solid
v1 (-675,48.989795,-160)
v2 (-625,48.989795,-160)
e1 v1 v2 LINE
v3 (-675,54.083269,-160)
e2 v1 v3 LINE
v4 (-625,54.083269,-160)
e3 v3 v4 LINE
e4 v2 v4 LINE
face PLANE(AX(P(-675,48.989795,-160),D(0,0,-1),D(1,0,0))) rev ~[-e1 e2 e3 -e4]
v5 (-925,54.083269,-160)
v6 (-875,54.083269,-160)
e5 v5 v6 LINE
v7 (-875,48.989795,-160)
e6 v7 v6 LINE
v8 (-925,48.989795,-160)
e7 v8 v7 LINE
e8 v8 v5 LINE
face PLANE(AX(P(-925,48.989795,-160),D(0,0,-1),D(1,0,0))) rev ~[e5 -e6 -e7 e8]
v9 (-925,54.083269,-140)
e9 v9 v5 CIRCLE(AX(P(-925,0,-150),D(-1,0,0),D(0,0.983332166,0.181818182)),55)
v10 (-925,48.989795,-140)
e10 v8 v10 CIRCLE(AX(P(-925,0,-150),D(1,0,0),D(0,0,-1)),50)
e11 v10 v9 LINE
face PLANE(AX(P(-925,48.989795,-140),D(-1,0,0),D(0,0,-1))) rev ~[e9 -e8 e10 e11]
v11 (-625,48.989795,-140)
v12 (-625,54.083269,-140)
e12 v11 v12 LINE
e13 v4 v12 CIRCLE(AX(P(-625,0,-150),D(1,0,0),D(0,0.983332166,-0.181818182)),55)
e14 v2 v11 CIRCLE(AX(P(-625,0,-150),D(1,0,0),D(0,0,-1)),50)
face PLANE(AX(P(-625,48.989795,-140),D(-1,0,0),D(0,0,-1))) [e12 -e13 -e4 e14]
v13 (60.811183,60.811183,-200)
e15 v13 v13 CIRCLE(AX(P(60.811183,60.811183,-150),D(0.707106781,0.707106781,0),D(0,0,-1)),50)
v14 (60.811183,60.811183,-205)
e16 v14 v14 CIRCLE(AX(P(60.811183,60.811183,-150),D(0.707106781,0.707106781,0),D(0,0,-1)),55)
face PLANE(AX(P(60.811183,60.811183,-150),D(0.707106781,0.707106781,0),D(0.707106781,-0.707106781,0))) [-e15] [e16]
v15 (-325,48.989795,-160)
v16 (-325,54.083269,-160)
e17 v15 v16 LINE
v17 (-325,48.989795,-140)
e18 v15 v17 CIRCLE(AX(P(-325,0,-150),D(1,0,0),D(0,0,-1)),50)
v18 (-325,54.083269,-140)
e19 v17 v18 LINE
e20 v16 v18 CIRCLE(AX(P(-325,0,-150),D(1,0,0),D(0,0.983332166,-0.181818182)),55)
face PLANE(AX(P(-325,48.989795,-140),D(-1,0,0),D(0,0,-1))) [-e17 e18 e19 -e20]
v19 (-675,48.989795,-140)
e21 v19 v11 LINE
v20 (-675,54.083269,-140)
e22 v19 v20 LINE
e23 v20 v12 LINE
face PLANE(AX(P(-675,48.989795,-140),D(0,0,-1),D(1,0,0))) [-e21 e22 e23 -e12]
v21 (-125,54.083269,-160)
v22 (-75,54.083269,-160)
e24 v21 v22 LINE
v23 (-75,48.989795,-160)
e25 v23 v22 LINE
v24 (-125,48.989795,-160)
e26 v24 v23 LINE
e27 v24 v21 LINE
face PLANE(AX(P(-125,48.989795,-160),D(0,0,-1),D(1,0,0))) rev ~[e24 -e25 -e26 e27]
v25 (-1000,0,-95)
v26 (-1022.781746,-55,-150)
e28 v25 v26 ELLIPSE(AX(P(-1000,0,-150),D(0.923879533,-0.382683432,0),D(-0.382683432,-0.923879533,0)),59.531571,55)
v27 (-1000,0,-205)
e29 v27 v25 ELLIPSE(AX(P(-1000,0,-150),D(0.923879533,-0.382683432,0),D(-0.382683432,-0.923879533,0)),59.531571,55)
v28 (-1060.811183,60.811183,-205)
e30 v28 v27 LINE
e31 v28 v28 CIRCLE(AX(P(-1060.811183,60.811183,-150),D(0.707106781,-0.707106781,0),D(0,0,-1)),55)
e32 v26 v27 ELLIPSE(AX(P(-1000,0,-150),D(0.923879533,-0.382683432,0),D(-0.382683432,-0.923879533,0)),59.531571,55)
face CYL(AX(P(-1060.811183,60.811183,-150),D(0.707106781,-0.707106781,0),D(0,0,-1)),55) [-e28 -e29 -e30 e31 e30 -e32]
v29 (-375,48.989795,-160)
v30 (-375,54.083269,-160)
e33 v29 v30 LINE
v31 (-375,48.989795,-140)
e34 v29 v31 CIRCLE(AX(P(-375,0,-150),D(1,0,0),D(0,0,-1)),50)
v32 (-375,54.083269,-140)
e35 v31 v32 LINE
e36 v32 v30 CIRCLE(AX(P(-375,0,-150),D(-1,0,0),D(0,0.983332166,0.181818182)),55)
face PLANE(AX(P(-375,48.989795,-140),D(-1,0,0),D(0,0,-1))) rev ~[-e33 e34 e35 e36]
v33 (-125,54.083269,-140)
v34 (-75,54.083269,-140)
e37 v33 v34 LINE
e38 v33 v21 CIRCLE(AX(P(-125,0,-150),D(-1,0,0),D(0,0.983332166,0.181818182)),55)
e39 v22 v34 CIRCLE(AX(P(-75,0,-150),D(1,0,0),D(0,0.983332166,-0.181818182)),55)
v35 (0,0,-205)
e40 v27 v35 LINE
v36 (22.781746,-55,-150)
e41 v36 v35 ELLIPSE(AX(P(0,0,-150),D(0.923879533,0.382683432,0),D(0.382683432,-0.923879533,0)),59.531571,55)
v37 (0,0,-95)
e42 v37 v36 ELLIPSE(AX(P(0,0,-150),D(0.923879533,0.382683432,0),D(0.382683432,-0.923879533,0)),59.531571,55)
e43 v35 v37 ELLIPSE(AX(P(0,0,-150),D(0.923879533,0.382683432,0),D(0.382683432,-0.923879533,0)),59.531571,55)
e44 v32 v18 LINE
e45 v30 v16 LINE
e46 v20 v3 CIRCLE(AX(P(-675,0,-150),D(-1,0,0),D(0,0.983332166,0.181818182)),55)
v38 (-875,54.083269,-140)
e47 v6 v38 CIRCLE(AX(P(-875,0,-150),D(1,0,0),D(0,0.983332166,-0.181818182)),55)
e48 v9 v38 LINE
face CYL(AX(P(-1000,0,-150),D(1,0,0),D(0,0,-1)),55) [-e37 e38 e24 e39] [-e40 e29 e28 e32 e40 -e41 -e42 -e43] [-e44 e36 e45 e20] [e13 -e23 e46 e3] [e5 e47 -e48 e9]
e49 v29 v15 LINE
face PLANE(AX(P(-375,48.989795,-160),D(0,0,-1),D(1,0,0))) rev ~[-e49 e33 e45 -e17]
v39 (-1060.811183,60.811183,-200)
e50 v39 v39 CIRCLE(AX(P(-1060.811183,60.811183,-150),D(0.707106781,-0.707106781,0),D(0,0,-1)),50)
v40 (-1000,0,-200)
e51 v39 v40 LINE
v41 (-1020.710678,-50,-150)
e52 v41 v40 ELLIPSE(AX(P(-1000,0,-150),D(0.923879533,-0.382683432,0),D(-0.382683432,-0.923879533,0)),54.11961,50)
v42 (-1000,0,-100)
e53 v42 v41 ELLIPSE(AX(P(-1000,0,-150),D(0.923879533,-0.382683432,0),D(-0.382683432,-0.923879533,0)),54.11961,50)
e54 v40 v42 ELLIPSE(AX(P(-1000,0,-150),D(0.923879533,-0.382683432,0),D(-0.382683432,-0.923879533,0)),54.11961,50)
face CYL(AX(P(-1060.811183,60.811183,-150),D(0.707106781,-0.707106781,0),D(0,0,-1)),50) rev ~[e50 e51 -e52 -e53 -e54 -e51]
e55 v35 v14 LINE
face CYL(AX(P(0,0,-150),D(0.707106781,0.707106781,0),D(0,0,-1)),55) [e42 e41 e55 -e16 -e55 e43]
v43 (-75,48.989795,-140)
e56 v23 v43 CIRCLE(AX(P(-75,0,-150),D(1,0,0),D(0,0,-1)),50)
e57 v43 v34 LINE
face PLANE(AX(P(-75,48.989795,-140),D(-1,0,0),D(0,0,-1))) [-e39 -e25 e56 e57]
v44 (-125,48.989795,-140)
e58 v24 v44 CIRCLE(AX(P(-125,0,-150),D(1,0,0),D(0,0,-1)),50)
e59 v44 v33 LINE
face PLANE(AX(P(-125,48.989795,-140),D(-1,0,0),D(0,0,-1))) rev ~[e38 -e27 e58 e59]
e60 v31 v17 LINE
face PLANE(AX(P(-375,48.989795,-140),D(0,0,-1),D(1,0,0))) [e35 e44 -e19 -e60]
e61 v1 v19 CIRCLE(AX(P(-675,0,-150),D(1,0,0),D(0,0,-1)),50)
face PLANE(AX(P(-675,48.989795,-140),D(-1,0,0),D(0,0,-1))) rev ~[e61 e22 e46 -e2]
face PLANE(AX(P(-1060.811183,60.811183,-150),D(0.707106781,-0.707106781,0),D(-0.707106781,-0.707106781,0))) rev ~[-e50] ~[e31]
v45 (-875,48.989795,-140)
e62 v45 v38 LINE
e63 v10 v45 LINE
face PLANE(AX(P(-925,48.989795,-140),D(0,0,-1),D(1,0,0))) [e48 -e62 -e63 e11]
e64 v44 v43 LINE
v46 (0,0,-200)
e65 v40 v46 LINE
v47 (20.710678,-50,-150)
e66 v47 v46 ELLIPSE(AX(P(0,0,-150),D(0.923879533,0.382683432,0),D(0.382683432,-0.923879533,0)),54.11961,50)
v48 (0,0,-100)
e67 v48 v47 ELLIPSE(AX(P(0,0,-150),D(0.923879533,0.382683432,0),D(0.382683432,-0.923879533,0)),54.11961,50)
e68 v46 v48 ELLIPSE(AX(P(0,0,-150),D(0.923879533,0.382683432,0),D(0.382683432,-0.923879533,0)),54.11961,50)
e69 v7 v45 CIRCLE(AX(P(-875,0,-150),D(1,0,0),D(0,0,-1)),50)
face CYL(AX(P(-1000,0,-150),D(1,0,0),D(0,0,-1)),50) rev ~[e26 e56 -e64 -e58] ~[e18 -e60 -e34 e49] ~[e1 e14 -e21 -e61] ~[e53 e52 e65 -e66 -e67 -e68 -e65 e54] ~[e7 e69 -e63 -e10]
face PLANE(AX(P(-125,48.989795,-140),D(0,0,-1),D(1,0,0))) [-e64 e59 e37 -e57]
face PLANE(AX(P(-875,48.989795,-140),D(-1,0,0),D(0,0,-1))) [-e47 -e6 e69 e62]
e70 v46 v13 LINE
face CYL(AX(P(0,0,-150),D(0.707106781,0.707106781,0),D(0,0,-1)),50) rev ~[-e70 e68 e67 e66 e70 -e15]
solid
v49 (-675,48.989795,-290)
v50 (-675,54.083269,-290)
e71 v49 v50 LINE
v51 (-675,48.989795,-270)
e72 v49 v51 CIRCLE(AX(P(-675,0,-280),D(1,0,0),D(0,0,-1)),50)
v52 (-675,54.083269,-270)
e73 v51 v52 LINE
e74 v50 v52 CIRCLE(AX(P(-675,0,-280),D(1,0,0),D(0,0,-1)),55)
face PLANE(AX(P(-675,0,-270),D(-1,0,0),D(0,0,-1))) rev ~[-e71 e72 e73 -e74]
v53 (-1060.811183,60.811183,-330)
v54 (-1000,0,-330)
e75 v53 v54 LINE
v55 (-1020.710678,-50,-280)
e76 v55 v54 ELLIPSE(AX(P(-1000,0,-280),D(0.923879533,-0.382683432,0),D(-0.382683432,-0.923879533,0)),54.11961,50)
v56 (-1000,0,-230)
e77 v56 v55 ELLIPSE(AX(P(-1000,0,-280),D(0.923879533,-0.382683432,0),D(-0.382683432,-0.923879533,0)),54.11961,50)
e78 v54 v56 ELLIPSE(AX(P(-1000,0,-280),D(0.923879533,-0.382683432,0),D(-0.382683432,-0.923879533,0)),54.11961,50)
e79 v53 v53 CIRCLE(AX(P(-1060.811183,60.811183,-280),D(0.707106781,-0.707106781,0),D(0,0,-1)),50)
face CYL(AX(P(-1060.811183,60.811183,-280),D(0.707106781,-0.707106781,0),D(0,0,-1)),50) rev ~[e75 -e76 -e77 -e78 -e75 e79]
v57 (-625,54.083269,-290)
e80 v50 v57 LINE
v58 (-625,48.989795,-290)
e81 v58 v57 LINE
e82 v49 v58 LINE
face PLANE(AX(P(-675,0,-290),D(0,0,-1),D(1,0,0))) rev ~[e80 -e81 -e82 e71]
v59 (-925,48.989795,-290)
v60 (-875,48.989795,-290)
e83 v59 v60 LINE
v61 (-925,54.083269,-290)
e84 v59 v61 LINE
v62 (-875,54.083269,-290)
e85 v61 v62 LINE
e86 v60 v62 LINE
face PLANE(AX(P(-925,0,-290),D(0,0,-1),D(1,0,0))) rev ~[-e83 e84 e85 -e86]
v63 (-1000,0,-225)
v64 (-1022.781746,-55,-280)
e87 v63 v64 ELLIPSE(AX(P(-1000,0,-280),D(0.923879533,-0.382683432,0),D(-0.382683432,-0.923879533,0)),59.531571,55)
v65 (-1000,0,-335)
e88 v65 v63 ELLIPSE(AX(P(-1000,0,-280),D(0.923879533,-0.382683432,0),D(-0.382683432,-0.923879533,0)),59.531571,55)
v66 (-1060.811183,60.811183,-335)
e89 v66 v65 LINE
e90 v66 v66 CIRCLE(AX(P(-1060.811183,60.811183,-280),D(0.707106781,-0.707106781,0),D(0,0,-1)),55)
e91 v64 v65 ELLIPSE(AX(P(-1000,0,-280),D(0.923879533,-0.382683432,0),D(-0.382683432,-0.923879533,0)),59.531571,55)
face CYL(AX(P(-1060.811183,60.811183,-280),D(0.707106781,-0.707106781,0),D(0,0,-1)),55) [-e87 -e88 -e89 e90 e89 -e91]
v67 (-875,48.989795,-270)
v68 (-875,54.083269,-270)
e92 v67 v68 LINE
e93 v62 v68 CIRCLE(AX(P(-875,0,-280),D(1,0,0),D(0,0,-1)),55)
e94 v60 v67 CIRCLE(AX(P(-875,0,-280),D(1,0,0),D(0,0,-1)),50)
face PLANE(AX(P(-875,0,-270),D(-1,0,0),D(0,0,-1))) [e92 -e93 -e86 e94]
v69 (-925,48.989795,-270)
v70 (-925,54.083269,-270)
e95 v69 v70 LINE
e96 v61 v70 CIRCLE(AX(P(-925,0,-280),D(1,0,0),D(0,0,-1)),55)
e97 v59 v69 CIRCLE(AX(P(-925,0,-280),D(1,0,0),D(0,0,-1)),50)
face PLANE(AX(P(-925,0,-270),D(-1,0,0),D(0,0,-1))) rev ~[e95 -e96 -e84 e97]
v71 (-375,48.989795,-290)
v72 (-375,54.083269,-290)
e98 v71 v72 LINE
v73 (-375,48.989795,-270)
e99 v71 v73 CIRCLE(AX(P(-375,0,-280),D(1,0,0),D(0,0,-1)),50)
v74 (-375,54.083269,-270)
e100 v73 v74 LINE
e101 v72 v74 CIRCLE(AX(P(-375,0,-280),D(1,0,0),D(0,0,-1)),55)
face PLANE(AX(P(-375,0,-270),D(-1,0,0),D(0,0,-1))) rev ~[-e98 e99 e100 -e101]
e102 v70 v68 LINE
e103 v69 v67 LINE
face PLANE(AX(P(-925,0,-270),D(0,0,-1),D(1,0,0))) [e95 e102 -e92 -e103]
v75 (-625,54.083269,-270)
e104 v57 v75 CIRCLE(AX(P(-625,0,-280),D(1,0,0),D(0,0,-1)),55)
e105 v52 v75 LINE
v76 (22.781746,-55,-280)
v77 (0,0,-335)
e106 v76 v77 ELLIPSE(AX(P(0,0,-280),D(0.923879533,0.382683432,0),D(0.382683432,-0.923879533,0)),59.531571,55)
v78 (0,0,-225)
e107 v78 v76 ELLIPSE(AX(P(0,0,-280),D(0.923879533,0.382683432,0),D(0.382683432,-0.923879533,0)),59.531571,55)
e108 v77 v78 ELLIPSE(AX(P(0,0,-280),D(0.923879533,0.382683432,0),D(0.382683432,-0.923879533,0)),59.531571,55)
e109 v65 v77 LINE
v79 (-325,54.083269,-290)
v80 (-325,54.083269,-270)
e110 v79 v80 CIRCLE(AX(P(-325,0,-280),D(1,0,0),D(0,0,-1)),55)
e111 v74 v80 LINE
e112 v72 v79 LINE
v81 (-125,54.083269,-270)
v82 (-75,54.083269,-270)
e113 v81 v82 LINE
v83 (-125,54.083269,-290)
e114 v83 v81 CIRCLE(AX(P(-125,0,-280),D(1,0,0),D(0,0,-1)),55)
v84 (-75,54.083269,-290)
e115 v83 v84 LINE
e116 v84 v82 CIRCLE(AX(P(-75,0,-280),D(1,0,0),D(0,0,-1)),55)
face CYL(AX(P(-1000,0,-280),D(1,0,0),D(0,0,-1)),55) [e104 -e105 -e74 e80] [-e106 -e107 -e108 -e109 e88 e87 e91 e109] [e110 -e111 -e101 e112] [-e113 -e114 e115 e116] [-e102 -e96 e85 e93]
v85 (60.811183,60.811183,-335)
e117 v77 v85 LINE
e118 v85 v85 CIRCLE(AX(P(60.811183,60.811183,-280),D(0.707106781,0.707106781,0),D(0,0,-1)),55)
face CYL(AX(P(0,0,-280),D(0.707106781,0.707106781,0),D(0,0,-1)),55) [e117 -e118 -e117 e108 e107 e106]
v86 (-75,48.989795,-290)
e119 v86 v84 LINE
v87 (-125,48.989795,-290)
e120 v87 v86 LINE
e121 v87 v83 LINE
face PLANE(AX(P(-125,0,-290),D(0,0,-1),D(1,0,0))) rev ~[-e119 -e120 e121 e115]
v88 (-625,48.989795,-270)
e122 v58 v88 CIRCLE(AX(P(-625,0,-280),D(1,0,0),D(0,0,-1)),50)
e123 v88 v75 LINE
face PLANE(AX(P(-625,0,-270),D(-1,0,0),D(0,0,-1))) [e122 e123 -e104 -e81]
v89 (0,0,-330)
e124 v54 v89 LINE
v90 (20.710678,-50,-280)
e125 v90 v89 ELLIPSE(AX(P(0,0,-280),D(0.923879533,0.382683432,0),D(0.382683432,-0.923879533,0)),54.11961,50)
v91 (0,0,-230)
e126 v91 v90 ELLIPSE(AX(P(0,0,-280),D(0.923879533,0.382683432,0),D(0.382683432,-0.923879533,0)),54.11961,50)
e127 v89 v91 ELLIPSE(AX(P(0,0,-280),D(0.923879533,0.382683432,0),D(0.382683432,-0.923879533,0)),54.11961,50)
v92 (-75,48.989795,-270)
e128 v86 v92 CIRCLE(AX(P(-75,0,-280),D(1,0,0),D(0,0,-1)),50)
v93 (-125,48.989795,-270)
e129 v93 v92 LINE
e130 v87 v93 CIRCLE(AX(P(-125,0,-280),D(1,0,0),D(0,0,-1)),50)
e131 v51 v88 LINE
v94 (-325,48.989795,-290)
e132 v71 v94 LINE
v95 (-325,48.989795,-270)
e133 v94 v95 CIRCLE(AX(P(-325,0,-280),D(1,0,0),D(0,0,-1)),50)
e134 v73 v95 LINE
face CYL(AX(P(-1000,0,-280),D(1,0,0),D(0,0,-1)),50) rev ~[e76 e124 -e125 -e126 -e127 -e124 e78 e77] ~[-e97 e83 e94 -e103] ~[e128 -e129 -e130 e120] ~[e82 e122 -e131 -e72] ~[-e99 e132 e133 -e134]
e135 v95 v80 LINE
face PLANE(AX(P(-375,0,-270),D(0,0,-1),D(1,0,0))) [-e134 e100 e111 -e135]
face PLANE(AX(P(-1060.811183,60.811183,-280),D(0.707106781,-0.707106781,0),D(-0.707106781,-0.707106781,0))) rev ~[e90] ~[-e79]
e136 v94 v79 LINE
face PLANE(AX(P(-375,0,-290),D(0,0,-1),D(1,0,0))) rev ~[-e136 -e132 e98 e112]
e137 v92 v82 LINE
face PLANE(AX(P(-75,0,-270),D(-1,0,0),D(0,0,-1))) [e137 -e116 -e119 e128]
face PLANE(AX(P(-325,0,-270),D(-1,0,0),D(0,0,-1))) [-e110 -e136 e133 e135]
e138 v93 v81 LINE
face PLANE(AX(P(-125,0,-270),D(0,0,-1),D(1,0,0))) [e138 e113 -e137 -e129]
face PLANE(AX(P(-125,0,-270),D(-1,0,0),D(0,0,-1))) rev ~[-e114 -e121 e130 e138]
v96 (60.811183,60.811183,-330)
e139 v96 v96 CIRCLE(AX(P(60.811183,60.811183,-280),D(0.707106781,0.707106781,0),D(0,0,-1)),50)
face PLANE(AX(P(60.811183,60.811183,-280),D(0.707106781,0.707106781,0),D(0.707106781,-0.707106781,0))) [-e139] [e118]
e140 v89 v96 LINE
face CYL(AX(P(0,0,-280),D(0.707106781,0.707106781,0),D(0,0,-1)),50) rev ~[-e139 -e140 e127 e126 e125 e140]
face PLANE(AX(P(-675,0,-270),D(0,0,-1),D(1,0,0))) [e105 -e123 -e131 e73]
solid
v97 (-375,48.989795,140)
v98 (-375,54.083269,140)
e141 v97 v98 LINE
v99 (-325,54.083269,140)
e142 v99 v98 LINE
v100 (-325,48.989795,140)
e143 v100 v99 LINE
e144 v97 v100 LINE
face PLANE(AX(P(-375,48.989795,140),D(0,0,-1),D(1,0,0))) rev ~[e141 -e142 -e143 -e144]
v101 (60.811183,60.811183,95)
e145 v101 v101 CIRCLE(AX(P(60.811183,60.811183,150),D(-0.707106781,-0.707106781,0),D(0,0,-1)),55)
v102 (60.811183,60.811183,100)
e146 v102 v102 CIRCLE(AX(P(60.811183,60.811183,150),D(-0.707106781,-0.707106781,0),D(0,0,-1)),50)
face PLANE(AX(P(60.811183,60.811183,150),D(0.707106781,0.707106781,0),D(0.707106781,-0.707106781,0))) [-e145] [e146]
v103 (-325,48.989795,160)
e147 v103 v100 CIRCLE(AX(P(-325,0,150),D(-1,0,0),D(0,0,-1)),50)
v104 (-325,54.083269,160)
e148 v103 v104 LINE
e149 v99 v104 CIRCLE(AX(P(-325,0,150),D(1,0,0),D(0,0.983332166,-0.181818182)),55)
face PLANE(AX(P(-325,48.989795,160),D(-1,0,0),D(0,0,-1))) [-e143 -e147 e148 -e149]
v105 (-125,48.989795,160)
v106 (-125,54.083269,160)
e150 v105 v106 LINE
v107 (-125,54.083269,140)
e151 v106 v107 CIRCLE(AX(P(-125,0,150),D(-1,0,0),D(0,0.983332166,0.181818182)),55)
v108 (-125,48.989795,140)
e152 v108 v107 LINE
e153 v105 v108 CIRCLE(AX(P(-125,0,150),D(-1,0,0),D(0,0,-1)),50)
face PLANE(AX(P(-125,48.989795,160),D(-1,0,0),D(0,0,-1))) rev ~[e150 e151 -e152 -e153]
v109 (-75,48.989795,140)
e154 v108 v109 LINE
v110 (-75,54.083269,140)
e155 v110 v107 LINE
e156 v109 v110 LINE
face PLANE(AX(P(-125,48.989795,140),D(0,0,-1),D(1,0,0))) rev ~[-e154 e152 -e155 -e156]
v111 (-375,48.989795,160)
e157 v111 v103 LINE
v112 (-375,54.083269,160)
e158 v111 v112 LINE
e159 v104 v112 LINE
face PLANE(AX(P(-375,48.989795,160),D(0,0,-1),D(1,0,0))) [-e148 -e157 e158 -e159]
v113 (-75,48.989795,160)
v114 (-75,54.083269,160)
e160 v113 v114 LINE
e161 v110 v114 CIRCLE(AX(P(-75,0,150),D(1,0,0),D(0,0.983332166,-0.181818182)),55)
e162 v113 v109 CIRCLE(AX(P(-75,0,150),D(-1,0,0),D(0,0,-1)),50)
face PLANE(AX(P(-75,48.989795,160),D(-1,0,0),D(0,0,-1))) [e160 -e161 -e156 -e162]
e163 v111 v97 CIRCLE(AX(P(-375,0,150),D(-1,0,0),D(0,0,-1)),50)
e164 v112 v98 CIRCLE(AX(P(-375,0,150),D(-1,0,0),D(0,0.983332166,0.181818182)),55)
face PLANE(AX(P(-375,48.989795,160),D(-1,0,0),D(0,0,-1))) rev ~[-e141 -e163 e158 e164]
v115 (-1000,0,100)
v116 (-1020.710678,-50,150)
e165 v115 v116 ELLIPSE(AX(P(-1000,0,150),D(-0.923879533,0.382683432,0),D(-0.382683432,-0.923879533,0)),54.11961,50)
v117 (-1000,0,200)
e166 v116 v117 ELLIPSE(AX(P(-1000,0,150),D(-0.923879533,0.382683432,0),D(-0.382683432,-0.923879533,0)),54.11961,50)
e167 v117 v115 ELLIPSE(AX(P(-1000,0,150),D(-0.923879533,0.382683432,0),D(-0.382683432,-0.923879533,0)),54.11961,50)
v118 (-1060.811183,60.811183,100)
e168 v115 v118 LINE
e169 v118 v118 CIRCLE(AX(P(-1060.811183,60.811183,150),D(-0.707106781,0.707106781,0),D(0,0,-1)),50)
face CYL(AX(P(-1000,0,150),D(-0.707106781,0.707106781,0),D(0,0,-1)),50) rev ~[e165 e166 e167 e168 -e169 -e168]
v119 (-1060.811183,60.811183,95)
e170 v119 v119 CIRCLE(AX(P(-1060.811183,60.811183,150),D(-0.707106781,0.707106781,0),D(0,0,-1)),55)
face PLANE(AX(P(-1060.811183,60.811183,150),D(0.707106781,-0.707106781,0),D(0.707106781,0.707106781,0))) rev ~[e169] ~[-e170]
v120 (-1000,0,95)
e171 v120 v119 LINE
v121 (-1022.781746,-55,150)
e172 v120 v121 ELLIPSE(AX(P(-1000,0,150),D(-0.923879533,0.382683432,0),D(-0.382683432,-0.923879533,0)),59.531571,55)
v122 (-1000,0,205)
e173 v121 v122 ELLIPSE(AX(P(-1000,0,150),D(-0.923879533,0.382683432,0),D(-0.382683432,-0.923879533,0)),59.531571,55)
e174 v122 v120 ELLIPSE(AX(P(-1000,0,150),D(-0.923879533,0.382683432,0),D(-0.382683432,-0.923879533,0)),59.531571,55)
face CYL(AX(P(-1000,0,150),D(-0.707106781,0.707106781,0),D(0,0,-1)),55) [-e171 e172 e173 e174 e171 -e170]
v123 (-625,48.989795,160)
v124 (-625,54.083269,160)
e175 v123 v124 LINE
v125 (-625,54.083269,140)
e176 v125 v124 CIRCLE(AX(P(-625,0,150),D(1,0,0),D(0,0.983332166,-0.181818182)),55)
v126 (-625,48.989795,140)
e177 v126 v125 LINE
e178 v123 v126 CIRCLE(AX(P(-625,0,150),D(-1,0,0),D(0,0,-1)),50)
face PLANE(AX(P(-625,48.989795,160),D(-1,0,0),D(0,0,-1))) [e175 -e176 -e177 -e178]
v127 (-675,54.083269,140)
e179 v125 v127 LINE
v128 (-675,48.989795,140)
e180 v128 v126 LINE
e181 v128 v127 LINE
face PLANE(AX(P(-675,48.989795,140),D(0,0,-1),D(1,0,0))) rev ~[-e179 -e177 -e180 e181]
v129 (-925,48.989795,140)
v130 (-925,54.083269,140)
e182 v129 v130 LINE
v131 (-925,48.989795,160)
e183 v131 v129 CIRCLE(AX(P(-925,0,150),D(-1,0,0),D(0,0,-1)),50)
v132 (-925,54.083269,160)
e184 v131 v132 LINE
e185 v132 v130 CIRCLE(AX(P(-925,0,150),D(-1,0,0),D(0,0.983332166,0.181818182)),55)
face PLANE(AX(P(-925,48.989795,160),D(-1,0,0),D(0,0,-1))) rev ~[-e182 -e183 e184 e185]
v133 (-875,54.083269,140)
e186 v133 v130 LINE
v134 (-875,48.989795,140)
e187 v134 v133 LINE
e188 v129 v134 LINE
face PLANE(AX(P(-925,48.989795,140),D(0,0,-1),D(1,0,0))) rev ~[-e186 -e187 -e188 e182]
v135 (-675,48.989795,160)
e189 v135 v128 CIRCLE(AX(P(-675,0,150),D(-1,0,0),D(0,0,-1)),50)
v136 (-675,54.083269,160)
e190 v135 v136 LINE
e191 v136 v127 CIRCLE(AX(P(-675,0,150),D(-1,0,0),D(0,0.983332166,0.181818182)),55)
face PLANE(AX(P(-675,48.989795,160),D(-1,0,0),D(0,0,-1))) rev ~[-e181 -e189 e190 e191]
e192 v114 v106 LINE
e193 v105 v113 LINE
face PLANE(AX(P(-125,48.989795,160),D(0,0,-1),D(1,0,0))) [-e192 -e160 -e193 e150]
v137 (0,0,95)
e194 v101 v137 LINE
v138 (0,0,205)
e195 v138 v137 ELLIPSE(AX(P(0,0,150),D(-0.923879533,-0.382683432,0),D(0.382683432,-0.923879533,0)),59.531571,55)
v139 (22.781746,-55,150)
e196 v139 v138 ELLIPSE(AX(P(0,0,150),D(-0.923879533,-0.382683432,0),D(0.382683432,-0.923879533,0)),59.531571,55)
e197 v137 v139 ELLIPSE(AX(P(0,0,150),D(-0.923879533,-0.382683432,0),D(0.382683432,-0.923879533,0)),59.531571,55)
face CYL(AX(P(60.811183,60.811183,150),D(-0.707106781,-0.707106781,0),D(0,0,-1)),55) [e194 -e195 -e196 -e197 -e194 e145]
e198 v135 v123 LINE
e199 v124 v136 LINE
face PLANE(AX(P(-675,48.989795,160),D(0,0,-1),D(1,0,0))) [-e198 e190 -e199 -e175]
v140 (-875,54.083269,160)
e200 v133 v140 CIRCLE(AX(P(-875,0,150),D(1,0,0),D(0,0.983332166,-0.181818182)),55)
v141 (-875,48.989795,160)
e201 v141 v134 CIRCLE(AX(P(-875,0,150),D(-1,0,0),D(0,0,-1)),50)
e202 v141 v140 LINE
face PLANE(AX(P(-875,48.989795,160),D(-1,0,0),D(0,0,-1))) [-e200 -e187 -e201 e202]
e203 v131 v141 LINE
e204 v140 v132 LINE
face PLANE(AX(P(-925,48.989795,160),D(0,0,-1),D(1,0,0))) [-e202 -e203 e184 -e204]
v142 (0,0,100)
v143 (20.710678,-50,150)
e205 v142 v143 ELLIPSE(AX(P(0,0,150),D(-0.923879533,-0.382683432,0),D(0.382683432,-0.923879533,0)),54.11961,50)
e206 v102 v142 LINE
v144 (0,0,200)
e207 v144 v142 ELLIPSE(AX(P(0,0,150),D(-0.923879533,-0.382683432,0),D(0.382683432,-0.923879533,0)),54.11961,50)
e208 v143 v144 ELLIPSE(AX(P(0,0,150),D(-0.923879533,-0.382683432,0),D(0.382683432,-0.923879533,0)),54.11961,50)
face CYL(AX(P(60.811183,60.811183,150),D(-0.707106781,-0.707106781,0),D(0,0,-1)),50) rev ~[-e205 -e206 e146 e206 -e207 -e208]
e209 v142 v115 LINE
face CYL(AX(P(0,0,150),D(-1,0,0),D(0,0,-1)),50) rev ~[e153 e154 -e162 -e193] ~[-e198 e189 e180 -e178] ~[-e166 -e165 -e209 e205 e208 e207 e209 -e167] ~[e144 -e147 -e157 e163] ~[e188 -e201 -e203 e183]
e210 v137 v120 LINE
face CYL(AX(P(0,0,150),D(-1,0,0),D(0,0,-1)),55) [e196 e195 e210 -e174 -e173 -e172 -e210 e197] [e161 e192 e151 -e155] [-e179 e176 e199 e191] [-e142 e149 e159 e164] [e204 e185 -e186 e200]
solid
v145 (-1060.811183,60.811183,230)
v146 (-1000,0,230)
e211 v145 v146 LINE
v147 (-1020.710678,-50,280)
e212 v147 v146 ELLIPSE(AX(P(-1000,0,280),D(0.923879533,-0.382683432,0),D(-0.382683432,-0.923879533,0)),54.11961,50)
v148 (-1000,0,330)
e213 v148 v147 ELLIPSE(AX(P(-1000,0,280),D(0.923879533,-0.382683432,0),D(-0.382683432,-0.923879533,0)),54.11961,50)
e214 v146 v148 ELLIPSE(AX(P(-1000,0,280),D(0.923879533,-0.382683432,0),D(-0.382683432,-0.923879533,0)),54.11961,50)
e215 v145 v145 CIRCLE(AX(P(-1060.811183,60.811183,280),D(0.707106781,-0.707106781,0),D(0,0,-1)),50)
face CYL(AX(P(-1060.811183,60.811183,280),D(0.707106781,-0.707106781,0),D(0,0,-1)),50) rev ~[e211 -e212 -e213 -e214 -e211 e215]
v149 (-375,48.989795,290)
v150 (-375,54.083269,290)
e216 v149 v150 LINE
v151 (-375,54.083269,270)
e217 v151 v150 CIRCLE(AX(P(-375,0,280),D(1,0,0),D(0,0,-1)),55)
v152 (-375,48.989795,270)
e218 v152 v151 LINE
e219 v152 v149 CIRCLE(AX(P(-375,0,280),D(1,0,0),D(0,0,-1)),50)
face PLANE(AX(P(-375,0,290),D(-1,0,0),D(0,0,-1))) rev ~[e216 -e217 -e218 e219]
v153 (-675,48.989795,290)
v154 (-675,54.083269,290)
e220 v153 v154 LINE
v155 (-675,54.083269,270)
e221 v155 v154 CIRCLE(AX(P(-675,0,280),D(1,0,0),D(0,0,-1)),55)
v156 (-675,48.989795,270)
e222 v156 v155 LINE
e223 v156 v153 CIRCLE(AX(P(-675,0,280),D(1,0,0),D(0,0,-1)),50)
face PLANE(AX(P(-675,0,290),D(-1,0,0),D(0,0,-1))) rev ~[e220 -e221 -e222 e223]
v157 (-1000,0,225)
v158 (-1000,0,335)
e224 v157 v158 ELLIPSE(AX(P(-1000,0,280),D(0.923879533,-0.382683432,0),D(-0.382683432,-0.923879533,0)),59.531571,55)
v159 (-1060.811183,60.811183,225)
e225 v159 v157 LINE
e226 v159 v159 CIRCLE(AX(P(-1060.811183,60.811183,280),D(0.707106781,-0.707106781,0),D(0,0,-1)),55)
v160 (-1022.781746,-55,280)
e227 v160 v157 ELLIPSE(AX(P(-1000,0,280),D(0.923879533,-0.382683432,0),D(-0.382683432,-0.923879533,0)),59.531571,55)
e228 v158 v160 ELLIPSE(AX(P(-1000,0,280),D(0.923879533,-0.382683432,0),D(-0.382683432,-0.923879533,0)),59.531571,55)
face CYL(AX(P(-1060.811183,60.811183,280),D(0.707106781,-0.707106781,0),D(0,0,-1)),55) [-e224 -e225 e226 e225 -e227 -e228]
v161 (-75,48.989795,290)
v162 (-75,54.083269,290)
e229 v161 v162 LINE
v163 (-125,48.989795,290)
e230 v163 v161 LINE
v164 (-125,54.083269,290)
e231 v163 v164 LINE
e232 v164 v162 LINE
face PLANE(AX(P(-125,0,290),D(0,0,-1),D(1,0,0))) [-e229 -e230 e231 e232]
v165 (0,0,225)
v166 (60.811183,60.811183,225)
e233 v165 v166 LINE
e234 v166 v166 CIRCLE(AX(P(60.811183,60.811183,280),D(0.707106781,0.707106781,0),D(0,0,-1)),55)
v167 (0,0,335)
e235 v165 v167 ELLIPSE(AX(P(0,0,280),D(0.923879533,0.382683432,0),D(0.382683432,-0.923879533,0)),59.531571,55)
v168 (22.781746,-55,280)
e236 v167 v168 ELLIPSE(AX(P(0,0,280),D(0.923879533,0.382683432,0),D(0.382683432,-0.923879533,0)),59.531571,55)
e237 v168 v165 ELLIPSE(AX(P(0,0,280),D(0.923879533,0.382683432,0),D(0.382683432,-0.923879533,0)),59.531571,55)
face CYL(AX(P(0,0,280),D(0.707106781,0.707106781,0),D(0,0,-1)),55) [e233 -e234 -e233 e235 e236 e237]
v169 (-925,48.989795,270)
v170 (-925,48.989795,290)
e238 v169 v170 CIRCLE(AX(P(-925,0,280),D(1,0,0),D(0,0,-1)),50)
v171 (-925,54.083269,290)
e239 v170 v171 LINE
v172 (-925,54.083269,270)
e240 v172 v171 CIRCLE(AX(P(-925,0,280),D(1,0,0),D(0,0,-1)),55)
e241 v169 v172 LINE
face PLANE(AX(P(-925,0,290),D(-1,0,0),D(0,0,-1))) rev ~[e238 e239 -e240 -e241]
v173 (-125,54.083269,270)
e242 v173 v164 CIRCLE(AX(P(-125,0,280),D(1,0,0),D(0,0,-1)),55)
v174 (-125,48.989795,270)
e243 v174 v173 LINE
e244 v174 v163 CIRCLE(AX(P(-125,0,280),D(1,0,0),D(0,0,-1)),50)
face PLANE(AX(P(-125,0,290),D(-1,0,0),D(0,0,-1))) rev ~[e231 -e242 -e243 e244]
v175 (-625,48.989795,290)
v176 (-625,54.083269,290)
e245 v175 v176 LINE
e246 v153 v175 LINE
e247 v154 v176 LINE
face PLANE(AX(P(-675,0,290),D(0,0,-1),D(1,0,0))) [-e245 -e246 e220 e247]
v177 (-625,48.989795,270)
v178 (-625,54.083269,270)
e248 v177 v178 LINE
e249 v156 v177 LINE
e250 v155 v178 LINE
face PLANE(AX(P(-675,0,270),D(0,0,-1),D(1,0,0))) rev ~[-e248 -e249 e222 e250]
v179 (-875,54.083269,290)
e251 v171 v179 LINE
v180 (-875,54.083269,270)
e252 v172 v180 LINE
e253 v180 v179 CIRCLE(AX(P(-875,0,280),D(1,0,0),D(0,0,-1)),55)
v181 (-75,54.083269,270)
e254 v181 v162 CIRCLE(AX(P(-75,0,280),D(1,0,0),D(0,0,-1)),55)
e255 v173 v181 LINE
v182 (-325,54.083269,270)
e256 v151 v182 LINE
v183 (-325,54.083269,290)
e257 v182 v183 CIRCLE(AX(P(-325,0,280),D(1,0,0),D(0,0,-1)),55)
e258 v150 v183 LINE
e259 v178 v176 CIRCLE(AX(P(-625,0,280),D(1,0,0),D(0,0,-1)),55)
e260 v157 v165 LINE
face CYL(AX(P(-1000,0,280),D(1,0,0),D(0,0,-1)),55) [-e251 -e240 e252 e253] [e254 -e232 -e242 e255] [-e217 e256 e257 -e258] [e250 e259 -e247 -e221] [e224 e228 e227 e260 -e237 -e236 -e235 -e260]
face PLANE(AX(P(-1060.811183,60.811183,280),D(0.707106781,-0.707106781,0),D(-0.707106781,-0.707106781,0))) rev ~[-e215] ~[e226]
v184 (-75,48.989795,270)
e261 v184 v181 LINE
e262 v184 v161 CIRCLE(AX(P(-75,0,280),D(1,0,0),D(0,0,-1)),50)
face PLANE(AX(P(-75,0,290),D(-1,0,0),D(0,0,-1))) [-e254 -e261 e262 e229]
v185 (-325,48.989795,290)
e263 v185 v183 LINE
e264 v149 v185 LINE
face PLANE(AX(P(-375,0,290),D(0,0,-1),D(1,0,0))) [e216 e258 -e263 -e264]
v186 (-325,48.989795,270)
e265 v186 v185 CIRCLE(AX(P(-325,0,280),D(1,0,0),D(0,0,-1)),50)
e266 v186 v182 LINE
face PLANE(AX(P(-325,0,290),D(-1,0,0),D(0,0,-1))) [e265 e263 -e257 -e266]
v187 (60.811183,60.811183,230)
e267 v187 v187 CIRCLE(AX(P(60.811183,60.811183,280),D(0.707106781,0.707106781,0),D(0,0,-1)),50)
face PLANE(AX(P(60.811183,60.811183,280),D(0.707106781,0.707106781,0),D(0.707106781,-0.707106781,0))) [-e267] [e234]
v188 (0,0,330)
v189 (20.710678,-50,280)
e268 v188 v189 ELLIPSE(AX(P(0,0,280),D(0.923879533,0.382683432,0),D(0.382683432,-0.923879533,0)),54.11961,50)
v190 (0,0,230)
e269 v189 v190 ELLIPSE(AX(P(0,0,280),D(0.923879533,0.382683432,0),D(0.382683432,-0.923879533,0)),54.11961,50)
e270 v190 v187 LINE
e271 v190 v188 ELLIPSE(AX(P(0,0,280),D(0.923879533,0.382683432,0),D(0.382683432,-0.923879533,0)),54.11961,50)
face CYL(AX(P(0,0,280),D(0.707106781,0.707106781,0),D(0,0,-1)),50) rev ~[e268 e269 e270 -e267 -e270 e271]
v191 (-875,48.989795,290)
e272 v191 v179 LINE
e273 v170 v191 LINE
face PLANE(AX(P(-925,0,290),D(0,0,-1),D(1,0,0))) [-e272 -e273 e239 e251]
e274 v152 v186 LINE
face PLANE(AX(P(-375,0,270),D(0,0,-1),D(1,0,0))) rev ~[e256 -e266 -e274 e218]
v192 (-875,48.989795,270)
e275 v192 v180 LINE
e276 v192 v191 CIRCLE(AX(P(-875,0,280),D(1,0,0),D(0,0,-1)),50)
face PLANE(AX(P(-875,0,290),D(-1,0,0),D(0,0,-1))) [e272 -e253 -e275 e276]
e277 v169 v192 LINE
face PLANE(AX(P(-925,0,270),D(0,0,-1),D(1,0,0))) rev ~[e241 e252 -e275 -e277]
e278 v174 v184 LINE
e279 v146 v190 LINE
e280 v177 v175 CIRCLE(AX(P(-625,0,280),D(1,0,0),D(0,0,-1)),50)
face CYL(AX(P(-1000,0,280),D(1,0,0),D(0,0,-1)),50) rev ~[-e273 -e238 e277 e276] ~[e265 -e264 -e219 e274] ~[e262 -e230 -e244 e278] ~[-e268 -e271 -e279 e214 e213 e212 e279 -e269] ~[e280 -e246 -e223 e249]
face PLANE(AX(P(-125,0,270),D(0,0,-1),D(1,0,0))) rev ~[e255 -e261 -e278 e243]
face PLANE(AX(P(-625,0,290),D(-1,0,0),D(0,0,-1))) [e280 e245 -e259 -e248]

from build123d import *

# Parameters (mm, degrees)
SKETCH_8_R          = 55
SKETCH_8_R_2        = 50
SKETCH_9_R          = 55
SKETCH_9_R_2        = 50
CUT_EXTRUDE_START   = 48.989795
SKETCH_10_W         = 50
SKETCH_10_H         = 20
CUT_EXTRUDE_2_DEPTH = 6.010205
SKETCH_12_R         = 55
SKETCH_12_R_2       = 50
SKETCH_13_W         = 50
SKETCH_13_H         = 20
CUT_EXTRUDE_4_DEPTH = 60


with BuildPart() as part:
    # По траектории2: sweep along a path in Эскиз4
    with BuildLine(Plane.XY.offset(150)) as sweep_2_path:
        Line((60.811183182, 60.811183182), (0, 0))
        Line((0, 0), (-1000, 0))
        Line((-1000, 0), (-1060.811183182, 60.811183182))
    # Эскиз8 → По траектории2 (sweep)
    with BuildSketch(Plane(origin=(0, 0, 0), x_dir=(0, 0, -1), z_dir=(1, 0, 0))):
        with Locations((-150, 0)):
            Circle(SKETCH_8_R)
        with Locations((-150, 0)):
            Circle(SKETCH_8_R_2, mode=Mode.SUBTRACT)
    sweep(path=sweep_2_path.line, transition=Transition.RIGHT)


with BuildPart() as body_2:
    # По траектории3: sweep along a path in Эскиз7
    with BuildLine(Plane.XY.offset(-150)) as sweep_3_path:
        Line((-1060.811183182, 60.811183182), (-1000, 0))
        Line((-1000, 0), (0, 0))
        Line((0, 0), (60.811183182, 60.811183182))
    # Эскиз9 → По траектории3 (sweep)
    with BuildSketch(Plane(origin=(0, 0, 0), x_dir=(0, 0, -1), z_dir=(1, 0, 0))):
        with Locations((150, 0)):
            Circle(SKETCH_9_R)
        with Locations((150, 0)):
            Circle(SKETCH_9_R_2, mode=Mode.SUBTRACT)
    sweep(path=sweep_3_path.line, transition=Transition.RIGHT)


with BuildPart() as cut_extrude_2_tool:
    # Эскиз10 → Вырез-Вытянуть2 (new body)
    with BuildSketch(Plane(origin=(0, 0, 0), x_dir=(1, 0, 0), z_dir=(0, 1, 0)).offset(CUT_EXTRUDE_START)):
        with Locations((-900, 150)):
            Rectangle(SKETCH_10_W, SKETCH_10_H)
        with Locations((-100, 150)):
            Rectangle(SKETCH_10_W, SKETCH_10_H)
        with Locations((-100, -150)):
            Rectangle(SKETCH_10_W, SKETCH_10_H)
        with Locations((-900, -150)):
            Rectangle(SKETCH_10_W, SKETCH_10_H)
        with Locations((-350, 150)):
            Rectangle(SKETCH_10_W, SKETCH_10_H)
        with Locations((-650, 150)):
            Rectangle(SKETCH_10_W, SKETCH_10_H)
        with Locations((-350, -150)):
            Rectangle(SKETCH_10_W, SKETCH_10_H)
        with Locations((-650, -150)):
            Rectangle(SKETCH_10_W, SKETCH_10_H)
    extrude(amount=CUT_EXTRUDE_2_DEPTH)


with BuildPart() as part_1:
    add(part.part)

    # Вырез-Вытянуть2: cut by cut_extrude_2_tool
    add(cut_extrude_2_tool.part, mode=Mode.SUBTRACT)


with BuildPart() as body_2_1:
    add(body_2.part)

    # Вырез-Вытянуть2: cut by cut_extrude_2_tool
    add(cut_extrude_2_tool.part, mode=Mode.SUBTRACT)


with BuildPart() as body_3:
    # По траектории4: sweep along a path in Эскиз11
    with BuildLine(Plane.XY.offset(-280)) as sweep_4_path:
        Line((-1060.811183182, 60.811183182), (-1000, 0))
        Line((-1000, 0), (0, 0))
        Line((0, 0), (60.811183182, 60.811183182))
    # Эскиз12 → По траектории4 (sweep)
    # profile 1 of 2: a face of its own
    with BuildSketch(Plane(origin=(0, 0, 0), x_dir=(0, 0, -1), z_dir=(1, 0, 0))):
        with Locations((280, 0)):
            Circle(SKETCH_12_R)
        with Locations((280, 0)):
            Circle(SKETCH_12_R_2, mode=Mode.SUBTRACT)
    # profile 2 of 2: a face of its own
    with BuildSketch(Plane(origin=(0, 0, 0), x_dir=(0, 0, -1), z_dir=(1, 0, 0))):
        with Locations((-280, 0)):
            Circle(SKETCH_12_R)
        with Locations((-280, 0)):
            Circle(SKETCH_12_R_2, mode=Mode.SUBTRACT)
    sweep(path=sweep_4_path.line, transition=Transition.RIGHT)

    # Эскиз13 → Вырез-Вытянуть4 (cut)
    with BuildSketch(Plane(origin=(0, 0, 0), x_dir=(1, 0, 0), z_dir=(0, 1, 0))):
        with Locations((-900, 280)):
            Rectangle(SKETCH_13_W, SKETCH_13_H)
        with Locations((-650, 280)):
            Rectangle(SKETCH_13_W, SKETCH_13_H)
        with Locations((-350, 280)):
            Rectangle(SKETCH_13_W, SKETCH_13_H)
        with Locations((-100, 280)):
            Rectangle(SKETCH_13_W, SKETCH_13_H)
        with Locations((-100, -280)):
            Rectangle(SKETCH_13_W, SKETCH_13_H)
        with Locations((-350, -280)):
            Rectangle(SKETCH_13_W, SKETCH_13_H)
        with Locations((-650, -280)):
            Rectangle(SKETCH_13_W, SKETCH_13_H)
        with Locations((-900, -280)):
            Rectangle(SKETCH_13_W, SKETCH_13_H)
    extrude(amount=CUT_EXTRUDE_4_DEPTH, mode=Mode.SUBTRACT)


solid = Compound([part_1.part, body_2_1.part, body_3.part])
